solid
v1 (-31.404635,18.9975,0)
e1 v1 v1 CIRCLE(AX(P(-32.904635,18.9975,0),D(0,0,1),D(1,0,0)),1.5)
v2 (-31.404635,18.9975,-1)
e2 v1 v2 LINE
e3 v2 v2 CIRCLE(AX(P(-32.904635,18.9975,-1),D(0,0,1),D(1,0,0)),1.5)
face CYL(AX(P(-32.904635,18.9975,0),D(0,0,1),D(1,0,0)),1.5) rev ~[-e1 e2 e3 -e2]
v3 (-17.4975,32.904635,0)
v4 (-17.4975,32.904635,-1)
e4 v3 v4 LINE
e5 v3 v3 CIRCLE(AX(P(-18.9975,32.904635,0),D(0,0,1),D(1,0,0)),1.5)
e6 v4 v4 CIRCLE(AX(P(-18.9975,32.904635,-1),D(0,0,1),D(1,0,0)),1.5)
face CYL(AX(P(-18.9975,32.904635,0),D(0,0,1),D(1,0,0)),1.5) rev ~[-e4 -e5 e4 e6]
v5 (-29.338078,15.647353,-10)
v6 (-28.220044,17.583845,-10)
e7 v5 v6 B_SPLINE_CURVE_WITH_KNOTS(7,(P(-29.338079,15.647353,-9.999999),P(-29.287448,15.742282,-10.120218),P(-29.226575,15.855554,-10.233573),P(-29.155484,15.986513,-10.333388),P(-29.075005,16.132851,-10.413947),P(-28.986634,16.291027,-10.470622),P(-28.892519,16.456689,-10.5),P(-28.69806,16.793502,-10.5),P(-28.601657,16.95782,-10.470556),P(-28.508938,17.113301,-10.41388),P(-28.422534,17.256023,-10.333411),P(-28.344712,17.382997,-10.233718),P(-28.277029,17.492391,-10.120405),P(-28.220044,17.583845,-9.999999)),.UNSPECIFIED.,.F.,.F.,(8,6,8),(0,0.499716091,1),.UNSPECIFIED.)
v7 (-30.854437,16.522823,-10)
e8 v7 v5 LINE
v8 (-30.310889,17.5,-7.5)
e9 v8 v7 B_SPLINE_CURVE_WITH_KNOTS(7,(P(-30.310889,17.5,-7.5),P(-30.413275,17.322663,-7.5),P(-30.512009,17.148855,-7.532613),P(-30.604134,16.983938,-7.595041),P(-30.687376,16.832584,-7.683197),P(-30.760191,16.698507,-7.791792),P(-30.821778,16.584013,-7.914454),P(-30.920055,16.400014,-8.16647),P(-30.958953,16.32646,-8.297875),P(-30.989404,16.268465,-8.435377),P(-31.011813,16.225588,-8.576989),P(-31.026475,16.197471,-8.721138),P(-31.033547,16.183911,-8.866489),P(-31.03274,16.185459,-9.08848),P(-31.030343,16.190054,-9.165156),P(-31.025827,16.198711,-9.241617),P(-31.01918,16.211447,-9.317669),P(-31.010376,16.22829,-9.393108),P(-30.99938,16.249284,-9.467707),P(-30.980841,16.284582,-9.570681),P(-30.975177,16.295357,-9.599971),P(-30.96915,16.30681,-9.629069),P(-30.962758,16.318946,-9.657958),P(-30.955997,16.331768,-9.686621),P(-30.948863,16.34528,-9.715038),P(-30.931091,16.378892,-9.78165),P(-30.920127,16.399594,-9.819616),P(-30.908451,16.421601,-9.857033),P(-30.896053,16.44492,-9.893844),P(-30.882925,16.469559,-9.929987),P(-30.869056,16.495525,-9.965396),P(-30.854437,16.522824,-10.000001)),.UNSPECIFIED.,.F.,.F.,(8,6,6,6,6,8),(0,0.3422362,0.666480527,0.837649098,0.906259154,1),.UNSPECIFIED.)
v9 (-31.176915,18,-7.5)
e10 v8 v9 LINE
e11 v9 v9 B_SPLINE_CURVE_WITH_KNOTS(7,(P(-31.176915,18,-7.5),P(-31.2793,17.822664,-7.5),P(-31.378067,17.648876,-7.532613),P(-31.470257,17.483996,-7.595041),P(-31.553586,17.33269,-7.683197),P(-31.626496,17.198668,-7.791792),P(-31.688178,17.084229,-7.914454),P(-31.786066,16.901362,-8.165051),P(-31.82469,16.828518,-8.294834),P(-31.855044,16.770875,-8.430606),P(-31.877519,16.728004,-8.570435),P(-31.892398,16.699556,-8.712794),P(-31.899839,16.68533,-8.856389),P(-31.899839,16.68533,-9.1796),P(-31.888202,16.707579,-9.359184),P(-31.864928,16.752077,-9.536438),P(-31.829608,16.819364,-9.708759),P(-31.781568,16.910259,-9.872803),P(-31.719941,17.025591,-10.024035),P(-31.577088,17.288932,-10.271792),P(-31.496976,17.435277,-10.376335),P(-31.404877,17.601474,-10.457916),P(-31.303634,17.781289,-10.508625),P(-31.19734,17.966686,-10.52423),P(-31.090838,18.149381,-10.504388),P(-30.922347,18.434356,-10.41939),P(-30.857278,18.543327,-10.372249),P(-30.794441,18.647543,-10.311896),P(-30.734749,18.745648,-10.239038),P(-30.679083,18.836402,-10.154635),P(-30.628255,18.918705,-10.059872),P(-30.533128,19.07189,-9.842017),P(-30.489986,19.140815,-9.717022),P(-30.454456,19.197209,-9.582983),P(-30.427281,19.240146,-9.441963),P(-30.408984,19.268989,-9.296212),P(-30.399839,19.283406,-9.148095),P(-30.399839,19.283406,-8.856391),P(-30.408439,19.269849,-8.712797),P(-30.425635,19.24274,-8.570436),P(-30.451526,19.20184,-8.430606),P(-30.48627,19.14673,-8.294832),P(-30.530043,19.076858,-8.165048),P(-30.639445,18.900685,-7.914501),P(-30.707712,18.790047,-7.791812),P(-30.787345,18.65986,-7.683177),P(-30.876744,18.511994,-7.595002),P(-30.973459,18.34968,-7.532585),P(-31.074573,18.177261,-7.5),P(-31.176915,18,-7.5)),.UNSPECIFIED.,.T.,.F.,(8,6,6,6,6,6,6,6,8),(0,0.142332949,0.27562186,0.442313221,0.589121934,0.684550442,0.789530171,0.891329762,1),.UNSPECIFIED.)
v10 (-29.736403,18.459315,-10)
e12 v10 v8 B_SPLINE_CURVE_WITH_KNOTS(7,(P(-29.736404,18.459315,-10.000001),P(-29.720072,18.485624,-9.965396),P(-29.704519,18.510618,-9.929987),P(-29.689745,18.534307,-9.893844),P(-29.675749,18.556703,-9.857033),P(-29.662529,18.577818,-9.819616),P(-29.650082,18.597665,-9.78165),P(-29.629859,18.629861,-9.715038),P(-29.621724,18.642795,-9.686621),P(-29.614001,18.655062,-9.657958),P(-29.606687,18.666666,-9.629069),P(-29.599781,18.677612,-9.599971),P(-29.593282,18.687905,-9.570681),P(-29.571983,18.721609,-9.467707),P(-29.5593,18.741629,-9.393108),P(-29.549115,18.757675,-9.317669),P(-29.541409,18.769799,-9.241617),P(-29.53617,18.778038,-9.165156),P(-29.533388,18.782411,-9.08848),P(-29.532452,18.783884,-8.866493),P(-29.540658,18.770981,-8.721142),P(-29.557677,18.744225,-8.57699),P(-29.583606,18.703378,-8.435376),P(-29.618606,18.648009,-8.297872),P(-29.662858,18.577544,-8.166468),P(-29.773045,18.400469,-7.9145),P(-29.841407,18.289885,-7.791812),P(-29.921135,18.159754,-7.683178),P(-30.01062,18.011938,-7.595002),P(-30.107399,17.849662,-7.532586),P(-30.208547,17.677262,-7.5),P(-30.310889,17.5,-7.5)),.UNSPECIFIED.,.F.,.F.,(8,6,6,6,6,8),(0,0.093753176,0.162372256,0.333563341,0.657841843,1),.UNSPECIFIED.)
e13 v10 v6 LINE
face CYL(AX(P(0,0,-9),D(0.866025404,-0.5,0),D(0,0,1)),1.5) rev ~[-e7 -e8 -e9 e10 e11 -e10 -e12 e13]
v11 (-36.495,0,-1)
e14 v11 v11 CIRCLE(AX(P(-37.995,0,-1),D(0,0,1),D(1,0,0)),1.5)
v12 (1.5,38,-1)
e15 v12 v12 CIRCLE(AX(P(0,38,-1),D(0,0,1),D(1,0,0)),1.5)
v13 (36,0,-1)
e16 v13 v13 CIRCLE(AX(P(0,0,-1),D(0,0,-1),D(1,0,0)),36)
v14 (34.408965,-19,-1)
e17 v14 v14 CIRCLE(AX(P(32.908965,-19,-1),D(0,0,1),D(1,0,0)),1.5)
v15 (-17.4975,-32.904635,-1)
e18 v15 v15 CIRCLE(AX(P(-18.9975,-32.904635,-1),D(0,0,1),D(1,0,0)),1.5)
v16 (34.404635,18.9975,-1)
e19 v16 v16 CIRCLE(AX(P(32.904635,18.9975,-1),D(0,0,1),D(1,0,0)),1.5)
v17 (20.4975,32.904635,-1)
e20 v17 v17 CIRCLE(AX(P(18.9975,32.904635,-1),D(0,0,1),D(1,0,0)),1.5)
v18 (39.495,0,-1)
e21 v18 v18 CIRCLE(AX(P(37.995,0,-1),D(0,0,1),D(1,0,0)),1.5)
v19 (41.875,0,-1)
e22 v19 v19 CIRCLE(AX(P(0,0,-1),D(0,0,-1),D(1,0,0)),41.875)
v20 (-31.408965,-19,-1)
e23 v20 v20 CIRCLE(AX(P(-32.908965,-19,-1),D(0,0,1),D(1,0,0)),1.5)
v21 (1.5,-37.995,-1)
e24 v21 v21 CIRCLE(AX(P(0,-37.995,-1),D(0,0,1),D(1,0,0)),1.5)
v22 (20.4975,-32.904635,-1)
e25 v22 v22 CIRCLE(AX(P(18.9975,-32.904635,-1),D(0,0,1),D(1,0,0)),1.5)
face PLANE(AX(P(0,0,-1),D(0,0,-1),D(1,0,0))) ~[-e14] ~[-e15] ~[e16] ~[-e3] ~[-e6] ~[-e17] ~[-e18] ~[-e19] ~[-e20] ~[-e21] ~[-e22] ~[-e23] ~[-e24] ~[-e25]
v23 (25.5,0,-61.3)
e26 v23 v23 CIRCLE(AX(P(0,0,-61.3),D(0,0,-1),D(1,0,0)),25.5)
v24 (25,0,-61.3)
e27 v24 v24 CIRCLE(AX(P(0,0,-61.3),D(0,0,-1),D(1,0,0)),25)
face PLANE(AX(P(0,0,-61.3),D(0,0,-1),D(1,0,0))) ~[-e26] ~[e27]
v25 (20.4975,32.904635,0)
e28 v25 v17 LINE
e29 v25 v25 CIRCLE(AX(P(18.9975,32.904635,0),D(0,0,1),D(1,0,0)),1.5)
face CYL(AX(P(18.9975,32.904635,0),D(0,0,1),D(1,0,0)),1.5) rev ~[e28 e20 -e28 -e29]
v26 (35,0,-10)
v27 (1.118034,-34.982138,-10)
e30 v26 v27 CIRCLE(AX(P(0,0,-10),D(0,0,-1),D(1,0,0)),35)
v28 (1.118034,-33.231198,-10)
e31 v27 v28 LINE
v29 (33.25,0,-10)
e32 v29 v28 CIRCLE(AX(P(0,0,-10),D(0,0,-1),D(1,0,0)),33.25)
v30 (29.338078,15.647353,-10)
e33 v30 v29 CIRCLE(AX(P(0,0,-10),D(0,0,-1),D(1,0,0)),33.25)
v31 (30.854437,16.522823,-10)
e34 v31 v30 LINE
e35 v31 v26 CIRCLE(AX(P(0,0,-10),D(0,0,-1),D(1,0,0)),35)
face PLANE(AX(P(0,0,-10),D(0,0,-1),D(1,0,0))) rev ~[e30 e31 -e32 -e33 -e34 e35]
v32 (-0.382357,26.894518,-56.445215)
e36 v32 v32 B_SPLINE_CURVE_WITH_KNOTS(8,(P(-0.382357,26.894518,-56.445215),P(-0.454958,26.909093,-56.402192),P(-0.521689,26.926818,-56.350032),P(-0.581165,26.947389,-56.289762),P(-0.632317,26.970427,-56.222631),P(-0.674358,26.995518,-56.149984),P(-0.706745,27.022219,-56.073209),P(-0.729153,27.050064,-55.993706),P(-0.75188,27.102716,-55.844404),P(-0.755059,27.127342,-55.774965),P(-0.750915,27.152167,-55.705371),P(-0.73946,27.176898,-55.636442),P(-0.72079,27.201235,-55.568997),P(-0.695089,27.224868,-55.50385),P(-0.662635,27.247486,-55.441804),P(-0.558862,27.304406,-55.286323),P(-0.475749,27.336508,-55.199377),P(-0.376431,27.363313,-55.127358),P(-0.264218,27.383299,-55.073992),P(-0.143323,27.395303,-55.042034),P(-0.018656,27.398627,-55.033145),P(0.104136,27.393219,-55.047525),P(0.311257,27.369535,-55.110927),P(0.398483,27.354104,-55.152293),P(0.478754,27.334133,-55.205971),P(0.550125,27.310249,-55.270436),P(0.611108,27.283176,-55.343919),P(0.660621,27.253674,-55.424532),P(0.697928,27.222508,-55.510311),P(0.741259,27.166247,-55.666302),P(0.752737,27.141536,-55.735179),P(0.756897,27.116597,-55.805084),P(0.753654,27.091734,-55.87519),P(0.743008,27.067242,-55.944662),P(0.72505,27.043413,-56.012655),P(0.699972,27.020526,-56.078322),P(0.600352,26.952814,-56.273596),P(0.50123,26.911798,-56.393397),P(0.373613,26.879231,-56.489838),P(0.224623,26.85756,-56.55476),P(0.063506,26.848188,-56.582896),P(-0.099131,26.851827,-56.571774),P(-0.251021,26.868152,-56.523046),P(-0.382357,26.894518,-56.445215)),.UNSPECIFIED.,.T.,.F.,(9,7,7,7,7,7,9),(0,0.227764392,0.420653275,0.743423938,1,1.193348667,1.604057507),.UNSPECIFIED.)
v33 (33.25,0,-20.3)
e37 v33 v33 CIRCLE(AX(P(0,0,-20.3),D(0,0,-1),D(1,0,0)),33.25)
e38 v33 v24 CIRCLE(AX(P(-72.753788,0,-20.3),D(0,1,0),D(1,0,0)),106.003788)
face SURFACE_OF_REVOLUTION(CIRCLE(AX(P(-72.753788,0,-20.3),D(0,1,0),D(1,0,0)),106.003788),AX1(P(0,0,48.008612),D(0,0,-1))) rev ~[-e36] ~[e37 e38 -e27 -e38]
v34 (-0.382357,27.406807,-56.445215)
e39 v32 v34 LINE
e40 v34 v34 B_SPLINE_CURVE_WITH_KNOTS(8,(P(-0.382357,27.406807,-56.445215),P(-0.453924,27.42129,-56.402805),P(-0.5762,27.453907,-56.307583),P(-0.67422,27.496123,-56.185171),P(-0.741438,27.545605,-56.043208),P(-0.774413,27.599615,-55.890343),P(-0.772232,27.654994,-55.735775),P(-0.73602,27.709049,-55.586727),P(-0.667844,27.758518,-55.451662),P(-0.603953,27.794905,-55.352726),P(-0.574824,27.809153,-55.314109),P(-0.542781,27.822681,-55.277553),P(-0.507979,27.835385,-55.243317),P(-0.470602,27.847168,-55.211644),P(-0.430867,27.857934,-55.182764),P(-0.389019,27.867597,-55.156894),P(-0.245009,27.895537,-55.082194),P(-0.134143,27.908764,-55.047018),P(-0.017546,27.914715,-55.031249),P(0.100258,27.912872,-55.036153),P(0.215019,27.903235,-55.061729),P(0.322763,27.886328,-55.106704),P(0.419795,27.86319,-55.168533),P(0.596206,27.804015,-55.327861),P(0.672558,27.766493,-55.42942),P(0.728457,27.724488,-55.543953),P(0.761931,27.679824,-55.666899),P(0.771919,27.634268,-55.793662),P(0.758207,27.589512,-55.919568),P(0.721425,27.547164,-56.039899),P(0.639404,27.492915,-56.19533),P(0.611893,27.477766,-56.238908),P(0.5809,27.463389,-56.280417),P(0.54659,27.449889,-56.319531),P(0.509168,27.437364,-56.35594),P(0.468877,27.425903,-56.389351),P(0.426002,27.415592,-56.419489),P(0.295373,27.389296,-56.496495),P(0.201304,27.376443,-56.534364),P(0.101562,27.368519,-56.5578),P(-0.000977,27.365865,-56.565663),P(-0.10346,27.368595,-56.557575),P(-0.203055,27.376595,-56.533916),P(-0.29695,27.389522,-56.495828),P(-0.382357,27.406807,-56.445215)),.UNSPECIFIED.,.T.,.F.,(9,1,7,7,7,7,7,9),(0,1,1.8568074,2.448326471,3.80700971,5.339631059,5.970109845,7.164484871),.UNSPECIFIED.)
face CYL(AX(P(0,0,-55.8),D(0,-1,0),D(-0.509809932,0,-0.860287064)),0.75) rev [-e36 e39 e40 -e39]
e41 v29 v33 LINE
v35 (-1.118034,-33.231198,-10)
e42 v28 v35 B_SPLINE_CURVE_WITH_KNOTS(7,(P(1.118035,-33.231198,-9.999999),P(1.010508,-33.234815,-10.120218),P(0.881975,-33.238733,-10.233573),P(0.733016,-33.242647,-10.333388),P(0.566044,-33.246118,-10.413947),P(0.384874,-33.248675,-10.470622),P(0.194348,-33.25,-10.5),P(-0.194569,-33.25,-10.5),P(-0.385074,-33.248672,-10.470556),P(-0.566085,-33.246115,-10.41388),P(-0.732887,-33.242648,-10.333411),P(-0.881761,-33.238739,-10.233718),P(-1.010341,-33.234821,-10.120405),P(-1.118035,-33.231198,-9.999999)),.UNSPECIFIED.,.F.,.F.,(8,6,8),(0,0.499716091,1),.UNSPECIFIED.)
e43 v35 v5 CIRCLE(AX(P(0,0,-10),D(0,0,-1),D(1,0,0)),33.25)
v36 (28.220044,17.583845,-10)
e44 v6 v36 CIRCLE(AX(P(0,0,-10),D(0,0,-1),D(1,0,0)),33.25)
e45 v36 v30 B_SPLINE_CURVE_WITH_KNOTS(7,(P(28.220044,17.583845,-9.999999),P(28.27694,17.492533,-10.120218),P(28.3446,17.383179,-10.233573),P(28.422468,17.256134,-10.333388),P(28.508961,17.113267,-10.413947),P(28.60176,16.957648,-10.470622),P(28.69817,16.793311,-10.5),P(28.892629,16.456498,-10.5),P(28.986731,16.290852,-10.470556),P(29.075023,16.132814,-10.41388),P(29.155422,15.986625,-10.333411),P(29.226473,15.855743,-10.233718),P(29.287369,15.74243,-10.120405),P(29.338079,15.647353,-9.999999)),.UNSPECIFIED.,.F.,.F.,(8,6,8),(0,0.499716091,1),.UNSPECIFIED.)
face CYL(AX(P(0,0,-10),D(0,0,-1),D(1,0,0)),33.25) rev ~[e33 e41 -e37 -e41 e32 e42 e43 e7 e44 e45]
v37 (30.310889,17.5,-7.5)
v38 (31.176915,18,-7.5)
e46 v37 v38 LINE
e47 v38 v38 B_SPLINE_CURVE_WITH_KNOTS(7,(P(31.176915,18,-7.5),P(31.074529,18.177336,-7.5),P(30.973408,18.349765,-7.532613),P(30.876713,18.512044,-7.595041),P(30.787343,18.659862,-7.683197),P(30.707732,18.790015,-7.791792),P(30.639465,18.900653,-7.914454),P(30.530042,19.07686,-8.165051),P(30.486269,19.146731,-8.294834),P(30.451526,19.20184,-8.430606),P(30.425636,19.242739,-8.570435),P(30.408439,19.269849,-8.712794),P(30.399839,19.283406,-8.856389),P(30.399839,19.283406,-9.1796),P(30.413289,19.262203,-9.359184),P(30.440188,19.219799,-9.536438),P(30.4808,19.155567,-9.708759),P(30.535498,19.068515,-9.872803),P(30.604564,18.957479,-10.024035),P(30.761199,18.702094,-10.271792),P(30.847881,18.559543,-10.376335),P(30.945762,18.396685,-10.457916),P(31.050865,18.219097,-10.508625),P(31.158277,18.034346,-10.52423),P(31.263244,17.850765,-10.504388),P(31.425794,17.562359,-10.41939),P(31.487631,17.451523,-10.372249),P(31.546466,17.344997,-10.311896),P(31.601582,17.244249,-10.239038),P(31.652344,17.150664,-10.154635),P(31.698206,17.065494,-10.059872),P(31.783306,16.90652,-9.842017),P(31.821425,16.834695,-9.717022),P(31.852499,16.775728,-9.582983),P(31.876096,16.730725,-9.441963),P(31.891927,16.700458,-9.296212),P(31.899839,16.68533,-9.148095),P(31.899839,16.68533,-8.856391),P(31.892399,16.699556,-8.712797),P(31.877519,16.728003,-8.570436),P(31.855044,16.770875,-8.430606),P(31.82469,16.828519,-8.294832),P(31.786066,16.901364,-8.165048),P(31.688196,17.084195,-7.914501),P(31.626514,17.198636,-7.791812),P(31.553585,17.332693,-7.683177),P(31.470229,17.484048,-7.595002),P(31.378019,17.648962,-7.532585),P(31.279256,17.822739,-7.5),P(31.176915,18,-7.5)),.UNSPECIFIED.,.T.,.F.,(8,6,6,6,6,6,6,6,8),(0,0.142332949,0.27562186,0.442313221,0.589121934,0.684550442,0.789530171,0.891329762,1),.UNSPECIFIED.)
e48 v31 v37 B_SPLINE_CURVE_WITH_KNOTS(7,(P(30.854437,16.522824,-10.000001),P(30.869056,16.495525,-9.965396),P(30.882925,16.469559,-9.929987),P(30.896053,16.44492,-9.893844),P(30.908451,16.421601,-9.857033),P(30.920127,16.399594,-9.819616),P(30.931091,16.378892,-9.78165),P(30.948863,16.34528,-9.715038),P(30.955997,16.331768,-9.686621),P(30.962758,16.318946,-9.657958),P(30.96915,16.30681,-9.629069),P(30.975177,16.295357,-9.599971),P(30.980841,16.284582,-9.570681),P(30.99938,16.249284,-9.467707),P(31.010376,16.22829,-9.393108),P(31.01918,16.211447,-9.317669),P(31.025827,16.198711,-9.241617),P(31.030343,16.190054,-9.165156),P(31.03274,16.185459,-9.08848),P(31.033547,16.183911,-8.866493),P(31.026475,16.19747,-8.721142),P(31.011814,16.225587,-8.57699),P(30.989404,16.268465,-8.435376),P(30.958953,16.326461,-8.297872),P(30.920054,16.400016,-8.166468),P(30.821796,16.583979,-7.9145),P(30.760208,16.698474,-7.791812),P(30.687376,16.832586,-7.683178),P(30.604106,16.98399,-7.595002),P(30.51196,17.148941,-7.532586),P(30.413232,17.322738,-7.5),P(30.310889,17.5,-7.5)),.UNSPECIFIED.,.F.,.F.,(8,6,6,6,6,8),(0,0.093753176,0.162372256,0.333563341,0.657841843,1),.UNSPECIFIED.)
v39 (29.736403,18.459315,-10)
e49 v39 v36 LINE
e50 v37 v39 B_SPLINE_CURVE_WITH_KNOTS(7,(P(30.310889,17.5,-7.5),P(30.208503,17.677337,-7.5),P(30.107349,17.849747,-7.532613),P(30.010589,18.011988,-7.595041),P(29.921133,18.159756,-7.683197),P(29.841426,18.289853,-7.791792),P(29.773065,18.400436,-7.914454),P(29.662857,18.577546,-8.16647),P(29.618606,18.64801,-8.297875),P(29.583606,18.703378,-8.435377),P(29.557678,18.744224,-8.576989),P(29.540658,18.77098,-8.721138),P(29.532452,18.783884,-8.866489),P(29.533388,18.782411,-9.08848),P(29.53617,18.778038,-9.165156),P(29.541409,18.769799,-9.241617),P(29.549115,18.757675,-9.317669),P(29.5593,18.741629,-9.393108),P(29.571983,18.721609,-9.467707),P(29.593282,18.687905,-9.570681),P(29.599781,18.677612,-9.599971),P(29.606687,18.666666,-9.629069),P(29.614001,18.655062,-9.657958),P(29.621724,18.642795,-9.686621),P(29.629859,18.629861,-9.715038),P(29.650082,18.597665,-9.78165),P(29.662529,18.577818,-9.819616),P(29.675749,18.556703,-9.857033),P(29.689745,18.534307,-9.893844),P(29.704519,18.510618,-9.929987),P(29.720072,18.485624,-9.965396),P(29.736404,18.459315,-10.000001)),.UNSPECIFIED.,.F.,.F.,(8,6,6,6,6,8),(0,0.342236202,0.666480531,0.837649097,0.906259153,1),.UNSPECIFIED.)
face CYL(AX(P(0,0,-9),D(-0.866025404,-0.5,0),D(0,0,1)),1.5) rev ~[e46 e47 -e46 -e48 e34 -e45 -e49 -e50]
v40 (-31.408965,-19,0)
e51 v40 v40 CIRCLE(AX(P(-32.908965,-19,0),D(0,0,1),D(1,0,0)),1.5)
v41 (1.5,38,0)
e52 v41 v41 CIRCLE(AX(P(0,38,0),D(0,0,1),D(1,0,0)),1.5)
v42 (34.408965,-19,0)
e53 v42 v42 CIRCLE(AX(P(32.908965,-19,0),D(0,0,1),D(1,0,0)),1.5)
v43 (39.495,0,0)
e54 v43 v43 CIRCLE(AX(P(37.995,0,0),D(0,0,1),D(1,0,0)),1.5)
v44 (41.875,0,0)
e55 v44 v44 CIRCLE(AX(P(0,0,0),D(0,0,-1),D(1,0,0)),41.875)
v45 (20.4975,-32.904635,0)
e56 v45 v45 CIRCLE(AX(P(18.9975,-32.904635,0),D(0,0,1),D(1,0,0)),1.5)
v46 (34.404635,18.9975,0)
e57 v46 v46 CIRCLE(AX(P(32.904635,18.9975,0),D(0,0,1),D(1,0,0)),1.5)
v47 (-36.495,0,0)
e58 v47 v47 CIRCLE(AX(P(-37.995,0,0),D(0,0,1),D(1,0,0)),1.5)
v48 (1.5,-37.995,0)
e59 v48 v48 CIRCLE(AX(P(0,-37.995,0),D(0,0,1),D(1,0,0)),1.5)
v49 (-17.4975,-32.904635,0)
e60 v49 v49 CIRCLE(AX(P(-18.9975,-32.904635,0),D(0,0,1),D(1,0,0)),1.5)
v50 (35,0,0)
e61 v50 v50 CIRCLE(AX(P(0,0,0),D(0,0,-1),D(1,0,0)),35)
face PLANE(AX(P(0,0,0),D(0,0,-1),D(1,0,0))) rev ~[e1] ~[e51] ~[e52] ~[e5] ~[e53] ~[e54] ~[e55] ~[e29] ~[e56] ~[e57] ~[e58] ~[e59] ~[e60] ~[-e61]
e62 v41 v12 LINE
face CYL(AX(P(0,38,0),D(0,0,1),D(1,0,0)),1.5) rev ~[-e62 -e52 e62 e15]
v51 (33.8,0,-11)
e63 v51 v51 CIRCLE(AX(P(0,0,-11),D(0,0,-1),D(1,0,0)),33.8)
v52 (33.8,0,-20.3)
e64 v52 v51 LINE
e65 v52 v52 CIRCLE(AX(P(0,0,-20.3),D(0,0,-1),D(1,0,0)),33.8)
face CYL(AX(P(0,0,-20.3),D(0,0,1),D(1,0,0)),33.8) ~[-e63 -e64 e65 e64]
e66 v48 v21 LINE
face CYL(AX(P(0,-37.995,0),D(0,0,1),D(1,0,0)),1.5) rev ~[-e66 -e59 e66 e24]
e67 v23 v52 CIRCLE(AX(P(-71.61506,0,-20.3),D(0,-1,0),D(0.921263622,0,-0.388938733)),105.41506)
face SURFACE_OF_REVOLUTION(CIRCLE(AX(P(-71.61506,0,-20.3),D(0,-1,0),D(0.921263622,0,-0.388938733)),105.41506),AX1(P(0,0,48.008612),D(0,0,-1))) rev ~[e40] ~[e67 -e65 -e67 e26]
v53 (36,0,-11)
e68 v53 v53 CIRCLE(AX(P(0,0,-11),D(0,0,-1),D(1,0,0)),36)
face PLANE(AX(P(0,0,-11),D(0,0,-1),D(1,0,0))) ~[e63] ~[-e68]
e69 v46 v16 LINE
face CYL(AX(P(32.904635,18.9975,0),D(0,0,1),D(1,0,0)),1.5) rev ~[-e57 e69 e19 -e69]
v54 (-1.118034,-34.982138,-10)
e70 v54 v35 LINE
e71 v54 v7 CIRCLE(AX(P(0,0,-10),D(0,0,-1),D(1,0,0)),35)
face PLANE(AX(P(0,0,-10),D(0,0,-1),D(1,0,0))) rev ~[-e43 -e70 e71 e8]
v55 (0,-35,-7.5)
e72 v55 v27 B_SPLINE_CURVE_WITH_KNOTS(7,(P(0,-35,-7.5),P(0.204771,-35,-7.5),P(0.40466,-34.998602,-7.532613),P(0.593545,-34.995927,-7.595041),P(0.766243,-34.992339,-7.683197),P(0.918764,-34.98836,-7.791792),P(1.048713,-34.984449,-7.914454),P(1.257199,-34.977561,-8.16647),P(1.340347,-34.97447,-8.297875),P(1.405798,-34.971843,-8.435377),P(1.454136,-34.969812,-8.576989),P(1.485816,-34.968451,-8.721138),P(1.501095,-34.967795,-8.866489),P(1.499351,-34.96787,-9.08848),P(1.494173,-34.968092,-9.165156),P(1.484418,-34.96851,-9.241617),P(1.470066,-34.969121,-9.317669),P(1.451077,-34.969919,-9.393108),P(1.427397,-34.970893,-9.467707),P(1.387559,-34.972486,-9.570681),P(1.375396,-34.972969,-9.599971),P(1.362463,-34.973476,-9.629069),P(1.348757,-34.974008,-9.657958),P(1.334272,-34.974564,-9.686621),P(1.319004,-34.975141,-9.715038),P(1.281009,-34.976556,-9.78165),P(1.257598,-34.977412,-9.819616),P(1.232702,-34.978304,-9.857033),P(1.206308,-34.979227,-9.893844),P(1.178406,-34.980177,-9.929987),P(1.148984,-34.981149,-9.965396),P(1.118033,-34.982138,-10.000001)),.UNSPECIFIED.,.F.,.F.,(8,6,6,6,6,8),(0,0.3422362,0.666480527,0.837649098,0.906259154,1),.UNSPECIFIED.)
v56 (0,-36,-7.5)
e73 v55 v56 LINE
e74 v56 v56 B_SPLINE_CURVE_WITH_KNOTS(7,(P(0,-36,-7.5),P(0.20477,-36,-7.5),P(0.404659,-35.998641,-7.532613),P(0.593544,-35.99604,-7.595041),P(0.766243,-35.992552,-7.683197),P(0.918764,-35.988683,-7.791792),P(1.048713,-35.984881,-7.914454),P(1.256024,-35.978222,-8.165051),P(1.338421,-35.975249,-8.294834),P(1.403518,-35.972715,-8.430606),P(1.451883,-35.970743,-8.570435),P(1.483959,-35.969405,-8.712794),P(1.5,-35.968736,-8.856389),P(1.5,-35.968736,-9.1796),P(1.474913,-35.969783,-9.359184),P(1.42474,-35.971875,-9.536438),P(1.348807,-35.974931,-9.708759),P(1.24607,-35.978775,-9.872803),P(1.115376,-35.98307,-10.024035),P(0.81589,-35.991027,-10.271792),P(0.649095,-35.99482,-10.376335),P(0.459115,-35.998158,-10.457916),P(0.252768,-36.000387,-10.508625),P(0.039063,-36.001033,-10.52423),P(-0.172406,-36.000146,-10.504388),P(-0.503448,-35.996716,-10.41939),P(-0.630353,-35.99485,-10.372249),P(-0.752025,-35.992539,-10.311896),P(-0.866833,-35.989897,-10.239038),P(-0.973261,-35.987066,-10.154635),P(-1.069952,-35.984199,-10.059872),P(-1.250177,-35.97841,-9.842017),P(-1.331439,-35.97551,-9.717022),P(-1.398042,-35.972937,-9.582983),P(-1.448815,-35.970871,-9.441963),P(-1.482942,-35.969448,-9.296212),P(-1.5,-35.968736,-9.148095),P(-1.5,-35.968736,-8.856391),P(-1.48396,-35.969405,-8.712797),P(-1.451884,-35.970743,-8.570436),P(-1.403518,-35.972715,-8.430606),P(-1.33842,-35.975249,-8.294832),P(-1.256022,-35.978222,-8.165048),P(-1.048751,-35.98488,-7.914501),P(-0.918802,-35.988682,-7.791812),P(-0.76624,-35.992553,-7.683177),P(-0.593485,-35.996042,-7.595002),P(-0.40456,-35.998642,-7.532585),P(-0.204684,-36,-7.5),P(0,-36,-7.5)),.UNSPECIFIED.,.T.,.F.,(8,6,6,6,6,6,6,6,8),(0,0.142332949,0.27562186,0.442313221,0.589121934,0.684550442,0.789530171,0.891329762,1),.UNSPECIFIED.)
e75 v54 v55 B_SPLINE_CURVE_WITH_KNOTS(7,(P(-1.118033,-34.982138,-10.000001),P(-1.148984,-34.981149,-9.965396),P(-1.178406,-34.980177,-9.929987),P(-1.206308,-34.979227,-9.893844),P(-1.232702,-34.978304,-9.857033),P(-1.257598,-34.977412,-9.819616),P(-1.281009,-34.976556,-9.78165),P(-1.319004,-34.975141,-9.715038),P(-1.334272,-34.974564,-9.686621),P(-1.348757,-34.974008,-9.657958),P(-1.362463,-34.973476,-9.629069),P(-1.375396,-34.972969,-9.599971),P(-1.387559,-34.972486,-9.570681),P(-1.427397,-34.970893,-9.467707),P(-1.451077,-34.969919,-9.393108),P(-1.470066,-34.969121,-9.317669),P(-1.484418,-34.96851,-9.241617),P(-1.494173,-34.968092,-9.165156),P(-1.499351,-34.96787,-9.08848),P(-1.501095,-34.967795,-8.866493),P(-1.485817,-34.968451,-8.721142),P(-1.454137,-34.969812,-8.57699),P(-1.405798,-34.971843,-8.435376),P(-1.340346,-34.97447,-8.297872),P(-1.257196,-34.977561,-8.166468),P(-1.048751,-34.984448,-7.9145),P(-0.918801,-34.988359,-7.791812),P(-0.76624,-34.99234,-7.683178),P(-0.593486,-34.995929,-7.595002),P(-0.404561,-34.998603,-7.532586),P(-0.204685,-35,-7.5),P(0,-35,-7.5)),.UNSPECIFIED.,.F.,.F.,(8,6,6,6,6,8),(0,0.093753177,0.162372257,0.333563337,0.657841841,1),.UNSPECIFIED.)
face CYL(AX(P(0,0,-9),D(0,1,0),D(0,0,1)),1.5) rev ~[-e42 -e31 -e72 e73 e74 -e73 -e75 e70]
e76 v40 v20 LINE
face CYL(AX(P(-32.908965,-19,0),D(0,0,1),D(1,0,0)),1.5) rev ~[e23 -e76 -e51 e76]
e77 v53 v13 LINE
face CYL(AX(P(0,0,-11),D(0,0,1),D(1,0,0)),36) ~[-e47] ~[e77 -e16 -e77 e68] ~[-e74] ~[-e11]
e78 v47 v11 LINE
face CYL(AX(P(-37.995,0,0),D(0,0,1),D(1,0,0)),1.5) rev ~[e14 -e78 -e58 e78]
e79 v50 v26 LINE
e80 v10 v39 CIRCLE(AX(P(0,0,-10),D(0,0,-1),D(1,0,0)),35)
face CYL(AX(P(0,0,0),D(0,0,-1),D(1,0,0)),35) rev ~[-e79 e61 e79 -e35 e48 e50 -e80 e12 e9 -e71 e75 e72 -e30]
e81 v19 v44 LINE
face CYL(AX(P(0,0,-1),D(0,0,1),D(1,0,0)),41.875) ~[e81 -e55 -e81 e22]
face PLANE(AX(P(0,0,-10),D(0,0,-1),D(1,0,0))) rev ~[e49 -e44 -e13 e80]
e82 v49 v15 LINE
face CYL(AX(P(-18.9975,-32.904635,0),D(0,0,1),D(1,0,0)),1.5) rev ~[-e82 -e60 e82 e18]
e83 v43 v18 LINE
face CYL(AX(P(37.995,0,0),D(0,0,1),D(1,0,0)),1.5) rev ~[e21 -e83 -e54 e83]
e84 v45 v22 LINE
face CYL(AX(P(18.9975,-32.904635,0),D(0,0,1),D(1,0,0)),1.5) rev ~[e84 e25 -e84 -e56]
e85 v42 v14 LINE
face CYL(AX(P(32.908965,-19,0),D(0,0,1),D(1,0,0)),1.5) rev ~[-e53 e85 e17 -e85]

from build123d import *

# Parameters (mm, degrees)
ESQUISSE2_R                  = 1.5
ENL_V_MAT_EXTRU_1_DEPTH      = 86.23333422
ESQUISSE4_R                  = 1.5
ENL_V_MAT_EXTRU_2_DEPTH      = 86.23333422
R_P_TITION_CIRCULAIRE1_COUNT = 3
ESQUISSE5_R                  = 0.75
ENL_V_MAT_EXTRU_3_DEPTH      = 86.23333422


with BuildPart() as part:
    # Esquisse1 → Base-Révolution (revolve)
    with BuildSketch(Plane(origin=(0, 0, 0), x_dir=(0, 0, -1), z_dir=(1, 0, 0)), mode=Mode.PRIVATE) as base_r_volution_sk:
        with BuildLine():
            Line((0, 41.875), (0, 35))
            Line((0, 35), (10, 35))
            Line((10, 35), (10, 33.25))
            Line((10, 33.25), (20.3, 33.25))
            ThreePointArc((20.3, 33.25), (41.210897279, 31.167034961), (61.3, 25))
            Line((61.3, 25), (61.3, 25.5))
            ThreePointArc((61.3, 25.5), (41.215843277, 31.704165587), (20.3, 33.8))
            Line((20.3, 33.8), (11, 33.8))
            Line((11, 33.8), (11, 36))
            Line((11, 36), (1, 36))
            Line((1, 36), (1, 41.875))
            Line((1, 41.875), (0, 41.875))
        make_face()
    revolve(base_r_volution_sk.sketch.rotate(Axis((0, 0, 48.008611825), (0, 0, -1)), 90), axis=Axis((0, 0, 48.008611825), (0, 0, -1)))

    # Esquisse2 → Enlèv. mat.-Extru.1 (cut, through all)
    with BuildSketch(Plane.XY):
        with Locations((0, -37.995)):
            Circle(ESQUISSE2_R)
        with Locations((0, 38)):
            Circle(ESQUISSE2_R)
        with Locations((-18.9975, -32.904635217)):
            Circle(ESQUISSE2_R)
        with Locations((-37.995, 0)):
            Circle(ESQUISSE2_R)
        with Locations((-32.904635217, 18.9975)):
            Circle(ESQUISSE2_R)
        with Locations((-18.9975, 32.904635217)):
            Circle(ESQUISSE2_R)
        with Locations((18.9975, 32.904635217)):
            Circle(ESQUISSE2_R)
        with Locations((32.904635217, 18.9975)):
            Circle(ESQUISSE2_R)
        with Locations((37.995, 0)):
            Circle(ESQUISSE2_R)
        with Locations((18.9975, -32.904635217)):
            Circle(ESQUISSE2_R)
        with Locations((32.908965344, -19)):
            Circle(ESQUISSE2_R)
        with Locations((-32.908965344, -19)):
            Circle(ESQUISSE2_R)
    extrude(amount=-ENL_V_MAT_EXTRU_1_DEPTH, mode=Mode.SUBTRACT)

    # Esquisse4 → Enlèv. mat.-Extru.2 (cut, through all)
    with BuildSketch(Plane(origin=(0, 0, 0), x_dir=(1, 0, 0), z_dir=(0, 1, 0))):
        with Locations(Location((0, 9, 0), (0, 0, 270))):
            Circle(ESQUISSE4_R)
    enl_v_mat_extru_2 = extrude(amount=-ENL_V_MAT_EXTRU_2_DEPTH, mode=Mode.SUBTRACT)

    # Répétition circulaire1: Enlèv. mat.-Extru.2 ×3 about axis
    r_p_tition_circulaire1_axis = Axis((0, 0, 48.008611825), (0, 0, -1))
    for i in range(1, R_P_TITION_CIRCULAIRE1_COUNT):
        add(enl_v_mat_extru_2.rotate(r_p_tition_circulaire1_axis, i * 360 / R_P_TITION_CIRCULAIRE1_COUNT), mode=Mode.SUBTRACT)

    # Esquisse5 → Enlèv. mat.-Extru.3 (cut, through all)
    with BuildSketch(Plane(origin=(0, 0, 0), x_dir=(0, 0, -1), z_dir=(0, 1, 0))):
        with Locations(Location((55.8, 0, 0), (0, 0, 30.651170267))):
            Circle(ESQUISSE5_R)
    extrude(amount=ENL_V_MAT_EXTRU_3_DEPTH, mode=Mode.SUBTRACT)


solid = part.part
